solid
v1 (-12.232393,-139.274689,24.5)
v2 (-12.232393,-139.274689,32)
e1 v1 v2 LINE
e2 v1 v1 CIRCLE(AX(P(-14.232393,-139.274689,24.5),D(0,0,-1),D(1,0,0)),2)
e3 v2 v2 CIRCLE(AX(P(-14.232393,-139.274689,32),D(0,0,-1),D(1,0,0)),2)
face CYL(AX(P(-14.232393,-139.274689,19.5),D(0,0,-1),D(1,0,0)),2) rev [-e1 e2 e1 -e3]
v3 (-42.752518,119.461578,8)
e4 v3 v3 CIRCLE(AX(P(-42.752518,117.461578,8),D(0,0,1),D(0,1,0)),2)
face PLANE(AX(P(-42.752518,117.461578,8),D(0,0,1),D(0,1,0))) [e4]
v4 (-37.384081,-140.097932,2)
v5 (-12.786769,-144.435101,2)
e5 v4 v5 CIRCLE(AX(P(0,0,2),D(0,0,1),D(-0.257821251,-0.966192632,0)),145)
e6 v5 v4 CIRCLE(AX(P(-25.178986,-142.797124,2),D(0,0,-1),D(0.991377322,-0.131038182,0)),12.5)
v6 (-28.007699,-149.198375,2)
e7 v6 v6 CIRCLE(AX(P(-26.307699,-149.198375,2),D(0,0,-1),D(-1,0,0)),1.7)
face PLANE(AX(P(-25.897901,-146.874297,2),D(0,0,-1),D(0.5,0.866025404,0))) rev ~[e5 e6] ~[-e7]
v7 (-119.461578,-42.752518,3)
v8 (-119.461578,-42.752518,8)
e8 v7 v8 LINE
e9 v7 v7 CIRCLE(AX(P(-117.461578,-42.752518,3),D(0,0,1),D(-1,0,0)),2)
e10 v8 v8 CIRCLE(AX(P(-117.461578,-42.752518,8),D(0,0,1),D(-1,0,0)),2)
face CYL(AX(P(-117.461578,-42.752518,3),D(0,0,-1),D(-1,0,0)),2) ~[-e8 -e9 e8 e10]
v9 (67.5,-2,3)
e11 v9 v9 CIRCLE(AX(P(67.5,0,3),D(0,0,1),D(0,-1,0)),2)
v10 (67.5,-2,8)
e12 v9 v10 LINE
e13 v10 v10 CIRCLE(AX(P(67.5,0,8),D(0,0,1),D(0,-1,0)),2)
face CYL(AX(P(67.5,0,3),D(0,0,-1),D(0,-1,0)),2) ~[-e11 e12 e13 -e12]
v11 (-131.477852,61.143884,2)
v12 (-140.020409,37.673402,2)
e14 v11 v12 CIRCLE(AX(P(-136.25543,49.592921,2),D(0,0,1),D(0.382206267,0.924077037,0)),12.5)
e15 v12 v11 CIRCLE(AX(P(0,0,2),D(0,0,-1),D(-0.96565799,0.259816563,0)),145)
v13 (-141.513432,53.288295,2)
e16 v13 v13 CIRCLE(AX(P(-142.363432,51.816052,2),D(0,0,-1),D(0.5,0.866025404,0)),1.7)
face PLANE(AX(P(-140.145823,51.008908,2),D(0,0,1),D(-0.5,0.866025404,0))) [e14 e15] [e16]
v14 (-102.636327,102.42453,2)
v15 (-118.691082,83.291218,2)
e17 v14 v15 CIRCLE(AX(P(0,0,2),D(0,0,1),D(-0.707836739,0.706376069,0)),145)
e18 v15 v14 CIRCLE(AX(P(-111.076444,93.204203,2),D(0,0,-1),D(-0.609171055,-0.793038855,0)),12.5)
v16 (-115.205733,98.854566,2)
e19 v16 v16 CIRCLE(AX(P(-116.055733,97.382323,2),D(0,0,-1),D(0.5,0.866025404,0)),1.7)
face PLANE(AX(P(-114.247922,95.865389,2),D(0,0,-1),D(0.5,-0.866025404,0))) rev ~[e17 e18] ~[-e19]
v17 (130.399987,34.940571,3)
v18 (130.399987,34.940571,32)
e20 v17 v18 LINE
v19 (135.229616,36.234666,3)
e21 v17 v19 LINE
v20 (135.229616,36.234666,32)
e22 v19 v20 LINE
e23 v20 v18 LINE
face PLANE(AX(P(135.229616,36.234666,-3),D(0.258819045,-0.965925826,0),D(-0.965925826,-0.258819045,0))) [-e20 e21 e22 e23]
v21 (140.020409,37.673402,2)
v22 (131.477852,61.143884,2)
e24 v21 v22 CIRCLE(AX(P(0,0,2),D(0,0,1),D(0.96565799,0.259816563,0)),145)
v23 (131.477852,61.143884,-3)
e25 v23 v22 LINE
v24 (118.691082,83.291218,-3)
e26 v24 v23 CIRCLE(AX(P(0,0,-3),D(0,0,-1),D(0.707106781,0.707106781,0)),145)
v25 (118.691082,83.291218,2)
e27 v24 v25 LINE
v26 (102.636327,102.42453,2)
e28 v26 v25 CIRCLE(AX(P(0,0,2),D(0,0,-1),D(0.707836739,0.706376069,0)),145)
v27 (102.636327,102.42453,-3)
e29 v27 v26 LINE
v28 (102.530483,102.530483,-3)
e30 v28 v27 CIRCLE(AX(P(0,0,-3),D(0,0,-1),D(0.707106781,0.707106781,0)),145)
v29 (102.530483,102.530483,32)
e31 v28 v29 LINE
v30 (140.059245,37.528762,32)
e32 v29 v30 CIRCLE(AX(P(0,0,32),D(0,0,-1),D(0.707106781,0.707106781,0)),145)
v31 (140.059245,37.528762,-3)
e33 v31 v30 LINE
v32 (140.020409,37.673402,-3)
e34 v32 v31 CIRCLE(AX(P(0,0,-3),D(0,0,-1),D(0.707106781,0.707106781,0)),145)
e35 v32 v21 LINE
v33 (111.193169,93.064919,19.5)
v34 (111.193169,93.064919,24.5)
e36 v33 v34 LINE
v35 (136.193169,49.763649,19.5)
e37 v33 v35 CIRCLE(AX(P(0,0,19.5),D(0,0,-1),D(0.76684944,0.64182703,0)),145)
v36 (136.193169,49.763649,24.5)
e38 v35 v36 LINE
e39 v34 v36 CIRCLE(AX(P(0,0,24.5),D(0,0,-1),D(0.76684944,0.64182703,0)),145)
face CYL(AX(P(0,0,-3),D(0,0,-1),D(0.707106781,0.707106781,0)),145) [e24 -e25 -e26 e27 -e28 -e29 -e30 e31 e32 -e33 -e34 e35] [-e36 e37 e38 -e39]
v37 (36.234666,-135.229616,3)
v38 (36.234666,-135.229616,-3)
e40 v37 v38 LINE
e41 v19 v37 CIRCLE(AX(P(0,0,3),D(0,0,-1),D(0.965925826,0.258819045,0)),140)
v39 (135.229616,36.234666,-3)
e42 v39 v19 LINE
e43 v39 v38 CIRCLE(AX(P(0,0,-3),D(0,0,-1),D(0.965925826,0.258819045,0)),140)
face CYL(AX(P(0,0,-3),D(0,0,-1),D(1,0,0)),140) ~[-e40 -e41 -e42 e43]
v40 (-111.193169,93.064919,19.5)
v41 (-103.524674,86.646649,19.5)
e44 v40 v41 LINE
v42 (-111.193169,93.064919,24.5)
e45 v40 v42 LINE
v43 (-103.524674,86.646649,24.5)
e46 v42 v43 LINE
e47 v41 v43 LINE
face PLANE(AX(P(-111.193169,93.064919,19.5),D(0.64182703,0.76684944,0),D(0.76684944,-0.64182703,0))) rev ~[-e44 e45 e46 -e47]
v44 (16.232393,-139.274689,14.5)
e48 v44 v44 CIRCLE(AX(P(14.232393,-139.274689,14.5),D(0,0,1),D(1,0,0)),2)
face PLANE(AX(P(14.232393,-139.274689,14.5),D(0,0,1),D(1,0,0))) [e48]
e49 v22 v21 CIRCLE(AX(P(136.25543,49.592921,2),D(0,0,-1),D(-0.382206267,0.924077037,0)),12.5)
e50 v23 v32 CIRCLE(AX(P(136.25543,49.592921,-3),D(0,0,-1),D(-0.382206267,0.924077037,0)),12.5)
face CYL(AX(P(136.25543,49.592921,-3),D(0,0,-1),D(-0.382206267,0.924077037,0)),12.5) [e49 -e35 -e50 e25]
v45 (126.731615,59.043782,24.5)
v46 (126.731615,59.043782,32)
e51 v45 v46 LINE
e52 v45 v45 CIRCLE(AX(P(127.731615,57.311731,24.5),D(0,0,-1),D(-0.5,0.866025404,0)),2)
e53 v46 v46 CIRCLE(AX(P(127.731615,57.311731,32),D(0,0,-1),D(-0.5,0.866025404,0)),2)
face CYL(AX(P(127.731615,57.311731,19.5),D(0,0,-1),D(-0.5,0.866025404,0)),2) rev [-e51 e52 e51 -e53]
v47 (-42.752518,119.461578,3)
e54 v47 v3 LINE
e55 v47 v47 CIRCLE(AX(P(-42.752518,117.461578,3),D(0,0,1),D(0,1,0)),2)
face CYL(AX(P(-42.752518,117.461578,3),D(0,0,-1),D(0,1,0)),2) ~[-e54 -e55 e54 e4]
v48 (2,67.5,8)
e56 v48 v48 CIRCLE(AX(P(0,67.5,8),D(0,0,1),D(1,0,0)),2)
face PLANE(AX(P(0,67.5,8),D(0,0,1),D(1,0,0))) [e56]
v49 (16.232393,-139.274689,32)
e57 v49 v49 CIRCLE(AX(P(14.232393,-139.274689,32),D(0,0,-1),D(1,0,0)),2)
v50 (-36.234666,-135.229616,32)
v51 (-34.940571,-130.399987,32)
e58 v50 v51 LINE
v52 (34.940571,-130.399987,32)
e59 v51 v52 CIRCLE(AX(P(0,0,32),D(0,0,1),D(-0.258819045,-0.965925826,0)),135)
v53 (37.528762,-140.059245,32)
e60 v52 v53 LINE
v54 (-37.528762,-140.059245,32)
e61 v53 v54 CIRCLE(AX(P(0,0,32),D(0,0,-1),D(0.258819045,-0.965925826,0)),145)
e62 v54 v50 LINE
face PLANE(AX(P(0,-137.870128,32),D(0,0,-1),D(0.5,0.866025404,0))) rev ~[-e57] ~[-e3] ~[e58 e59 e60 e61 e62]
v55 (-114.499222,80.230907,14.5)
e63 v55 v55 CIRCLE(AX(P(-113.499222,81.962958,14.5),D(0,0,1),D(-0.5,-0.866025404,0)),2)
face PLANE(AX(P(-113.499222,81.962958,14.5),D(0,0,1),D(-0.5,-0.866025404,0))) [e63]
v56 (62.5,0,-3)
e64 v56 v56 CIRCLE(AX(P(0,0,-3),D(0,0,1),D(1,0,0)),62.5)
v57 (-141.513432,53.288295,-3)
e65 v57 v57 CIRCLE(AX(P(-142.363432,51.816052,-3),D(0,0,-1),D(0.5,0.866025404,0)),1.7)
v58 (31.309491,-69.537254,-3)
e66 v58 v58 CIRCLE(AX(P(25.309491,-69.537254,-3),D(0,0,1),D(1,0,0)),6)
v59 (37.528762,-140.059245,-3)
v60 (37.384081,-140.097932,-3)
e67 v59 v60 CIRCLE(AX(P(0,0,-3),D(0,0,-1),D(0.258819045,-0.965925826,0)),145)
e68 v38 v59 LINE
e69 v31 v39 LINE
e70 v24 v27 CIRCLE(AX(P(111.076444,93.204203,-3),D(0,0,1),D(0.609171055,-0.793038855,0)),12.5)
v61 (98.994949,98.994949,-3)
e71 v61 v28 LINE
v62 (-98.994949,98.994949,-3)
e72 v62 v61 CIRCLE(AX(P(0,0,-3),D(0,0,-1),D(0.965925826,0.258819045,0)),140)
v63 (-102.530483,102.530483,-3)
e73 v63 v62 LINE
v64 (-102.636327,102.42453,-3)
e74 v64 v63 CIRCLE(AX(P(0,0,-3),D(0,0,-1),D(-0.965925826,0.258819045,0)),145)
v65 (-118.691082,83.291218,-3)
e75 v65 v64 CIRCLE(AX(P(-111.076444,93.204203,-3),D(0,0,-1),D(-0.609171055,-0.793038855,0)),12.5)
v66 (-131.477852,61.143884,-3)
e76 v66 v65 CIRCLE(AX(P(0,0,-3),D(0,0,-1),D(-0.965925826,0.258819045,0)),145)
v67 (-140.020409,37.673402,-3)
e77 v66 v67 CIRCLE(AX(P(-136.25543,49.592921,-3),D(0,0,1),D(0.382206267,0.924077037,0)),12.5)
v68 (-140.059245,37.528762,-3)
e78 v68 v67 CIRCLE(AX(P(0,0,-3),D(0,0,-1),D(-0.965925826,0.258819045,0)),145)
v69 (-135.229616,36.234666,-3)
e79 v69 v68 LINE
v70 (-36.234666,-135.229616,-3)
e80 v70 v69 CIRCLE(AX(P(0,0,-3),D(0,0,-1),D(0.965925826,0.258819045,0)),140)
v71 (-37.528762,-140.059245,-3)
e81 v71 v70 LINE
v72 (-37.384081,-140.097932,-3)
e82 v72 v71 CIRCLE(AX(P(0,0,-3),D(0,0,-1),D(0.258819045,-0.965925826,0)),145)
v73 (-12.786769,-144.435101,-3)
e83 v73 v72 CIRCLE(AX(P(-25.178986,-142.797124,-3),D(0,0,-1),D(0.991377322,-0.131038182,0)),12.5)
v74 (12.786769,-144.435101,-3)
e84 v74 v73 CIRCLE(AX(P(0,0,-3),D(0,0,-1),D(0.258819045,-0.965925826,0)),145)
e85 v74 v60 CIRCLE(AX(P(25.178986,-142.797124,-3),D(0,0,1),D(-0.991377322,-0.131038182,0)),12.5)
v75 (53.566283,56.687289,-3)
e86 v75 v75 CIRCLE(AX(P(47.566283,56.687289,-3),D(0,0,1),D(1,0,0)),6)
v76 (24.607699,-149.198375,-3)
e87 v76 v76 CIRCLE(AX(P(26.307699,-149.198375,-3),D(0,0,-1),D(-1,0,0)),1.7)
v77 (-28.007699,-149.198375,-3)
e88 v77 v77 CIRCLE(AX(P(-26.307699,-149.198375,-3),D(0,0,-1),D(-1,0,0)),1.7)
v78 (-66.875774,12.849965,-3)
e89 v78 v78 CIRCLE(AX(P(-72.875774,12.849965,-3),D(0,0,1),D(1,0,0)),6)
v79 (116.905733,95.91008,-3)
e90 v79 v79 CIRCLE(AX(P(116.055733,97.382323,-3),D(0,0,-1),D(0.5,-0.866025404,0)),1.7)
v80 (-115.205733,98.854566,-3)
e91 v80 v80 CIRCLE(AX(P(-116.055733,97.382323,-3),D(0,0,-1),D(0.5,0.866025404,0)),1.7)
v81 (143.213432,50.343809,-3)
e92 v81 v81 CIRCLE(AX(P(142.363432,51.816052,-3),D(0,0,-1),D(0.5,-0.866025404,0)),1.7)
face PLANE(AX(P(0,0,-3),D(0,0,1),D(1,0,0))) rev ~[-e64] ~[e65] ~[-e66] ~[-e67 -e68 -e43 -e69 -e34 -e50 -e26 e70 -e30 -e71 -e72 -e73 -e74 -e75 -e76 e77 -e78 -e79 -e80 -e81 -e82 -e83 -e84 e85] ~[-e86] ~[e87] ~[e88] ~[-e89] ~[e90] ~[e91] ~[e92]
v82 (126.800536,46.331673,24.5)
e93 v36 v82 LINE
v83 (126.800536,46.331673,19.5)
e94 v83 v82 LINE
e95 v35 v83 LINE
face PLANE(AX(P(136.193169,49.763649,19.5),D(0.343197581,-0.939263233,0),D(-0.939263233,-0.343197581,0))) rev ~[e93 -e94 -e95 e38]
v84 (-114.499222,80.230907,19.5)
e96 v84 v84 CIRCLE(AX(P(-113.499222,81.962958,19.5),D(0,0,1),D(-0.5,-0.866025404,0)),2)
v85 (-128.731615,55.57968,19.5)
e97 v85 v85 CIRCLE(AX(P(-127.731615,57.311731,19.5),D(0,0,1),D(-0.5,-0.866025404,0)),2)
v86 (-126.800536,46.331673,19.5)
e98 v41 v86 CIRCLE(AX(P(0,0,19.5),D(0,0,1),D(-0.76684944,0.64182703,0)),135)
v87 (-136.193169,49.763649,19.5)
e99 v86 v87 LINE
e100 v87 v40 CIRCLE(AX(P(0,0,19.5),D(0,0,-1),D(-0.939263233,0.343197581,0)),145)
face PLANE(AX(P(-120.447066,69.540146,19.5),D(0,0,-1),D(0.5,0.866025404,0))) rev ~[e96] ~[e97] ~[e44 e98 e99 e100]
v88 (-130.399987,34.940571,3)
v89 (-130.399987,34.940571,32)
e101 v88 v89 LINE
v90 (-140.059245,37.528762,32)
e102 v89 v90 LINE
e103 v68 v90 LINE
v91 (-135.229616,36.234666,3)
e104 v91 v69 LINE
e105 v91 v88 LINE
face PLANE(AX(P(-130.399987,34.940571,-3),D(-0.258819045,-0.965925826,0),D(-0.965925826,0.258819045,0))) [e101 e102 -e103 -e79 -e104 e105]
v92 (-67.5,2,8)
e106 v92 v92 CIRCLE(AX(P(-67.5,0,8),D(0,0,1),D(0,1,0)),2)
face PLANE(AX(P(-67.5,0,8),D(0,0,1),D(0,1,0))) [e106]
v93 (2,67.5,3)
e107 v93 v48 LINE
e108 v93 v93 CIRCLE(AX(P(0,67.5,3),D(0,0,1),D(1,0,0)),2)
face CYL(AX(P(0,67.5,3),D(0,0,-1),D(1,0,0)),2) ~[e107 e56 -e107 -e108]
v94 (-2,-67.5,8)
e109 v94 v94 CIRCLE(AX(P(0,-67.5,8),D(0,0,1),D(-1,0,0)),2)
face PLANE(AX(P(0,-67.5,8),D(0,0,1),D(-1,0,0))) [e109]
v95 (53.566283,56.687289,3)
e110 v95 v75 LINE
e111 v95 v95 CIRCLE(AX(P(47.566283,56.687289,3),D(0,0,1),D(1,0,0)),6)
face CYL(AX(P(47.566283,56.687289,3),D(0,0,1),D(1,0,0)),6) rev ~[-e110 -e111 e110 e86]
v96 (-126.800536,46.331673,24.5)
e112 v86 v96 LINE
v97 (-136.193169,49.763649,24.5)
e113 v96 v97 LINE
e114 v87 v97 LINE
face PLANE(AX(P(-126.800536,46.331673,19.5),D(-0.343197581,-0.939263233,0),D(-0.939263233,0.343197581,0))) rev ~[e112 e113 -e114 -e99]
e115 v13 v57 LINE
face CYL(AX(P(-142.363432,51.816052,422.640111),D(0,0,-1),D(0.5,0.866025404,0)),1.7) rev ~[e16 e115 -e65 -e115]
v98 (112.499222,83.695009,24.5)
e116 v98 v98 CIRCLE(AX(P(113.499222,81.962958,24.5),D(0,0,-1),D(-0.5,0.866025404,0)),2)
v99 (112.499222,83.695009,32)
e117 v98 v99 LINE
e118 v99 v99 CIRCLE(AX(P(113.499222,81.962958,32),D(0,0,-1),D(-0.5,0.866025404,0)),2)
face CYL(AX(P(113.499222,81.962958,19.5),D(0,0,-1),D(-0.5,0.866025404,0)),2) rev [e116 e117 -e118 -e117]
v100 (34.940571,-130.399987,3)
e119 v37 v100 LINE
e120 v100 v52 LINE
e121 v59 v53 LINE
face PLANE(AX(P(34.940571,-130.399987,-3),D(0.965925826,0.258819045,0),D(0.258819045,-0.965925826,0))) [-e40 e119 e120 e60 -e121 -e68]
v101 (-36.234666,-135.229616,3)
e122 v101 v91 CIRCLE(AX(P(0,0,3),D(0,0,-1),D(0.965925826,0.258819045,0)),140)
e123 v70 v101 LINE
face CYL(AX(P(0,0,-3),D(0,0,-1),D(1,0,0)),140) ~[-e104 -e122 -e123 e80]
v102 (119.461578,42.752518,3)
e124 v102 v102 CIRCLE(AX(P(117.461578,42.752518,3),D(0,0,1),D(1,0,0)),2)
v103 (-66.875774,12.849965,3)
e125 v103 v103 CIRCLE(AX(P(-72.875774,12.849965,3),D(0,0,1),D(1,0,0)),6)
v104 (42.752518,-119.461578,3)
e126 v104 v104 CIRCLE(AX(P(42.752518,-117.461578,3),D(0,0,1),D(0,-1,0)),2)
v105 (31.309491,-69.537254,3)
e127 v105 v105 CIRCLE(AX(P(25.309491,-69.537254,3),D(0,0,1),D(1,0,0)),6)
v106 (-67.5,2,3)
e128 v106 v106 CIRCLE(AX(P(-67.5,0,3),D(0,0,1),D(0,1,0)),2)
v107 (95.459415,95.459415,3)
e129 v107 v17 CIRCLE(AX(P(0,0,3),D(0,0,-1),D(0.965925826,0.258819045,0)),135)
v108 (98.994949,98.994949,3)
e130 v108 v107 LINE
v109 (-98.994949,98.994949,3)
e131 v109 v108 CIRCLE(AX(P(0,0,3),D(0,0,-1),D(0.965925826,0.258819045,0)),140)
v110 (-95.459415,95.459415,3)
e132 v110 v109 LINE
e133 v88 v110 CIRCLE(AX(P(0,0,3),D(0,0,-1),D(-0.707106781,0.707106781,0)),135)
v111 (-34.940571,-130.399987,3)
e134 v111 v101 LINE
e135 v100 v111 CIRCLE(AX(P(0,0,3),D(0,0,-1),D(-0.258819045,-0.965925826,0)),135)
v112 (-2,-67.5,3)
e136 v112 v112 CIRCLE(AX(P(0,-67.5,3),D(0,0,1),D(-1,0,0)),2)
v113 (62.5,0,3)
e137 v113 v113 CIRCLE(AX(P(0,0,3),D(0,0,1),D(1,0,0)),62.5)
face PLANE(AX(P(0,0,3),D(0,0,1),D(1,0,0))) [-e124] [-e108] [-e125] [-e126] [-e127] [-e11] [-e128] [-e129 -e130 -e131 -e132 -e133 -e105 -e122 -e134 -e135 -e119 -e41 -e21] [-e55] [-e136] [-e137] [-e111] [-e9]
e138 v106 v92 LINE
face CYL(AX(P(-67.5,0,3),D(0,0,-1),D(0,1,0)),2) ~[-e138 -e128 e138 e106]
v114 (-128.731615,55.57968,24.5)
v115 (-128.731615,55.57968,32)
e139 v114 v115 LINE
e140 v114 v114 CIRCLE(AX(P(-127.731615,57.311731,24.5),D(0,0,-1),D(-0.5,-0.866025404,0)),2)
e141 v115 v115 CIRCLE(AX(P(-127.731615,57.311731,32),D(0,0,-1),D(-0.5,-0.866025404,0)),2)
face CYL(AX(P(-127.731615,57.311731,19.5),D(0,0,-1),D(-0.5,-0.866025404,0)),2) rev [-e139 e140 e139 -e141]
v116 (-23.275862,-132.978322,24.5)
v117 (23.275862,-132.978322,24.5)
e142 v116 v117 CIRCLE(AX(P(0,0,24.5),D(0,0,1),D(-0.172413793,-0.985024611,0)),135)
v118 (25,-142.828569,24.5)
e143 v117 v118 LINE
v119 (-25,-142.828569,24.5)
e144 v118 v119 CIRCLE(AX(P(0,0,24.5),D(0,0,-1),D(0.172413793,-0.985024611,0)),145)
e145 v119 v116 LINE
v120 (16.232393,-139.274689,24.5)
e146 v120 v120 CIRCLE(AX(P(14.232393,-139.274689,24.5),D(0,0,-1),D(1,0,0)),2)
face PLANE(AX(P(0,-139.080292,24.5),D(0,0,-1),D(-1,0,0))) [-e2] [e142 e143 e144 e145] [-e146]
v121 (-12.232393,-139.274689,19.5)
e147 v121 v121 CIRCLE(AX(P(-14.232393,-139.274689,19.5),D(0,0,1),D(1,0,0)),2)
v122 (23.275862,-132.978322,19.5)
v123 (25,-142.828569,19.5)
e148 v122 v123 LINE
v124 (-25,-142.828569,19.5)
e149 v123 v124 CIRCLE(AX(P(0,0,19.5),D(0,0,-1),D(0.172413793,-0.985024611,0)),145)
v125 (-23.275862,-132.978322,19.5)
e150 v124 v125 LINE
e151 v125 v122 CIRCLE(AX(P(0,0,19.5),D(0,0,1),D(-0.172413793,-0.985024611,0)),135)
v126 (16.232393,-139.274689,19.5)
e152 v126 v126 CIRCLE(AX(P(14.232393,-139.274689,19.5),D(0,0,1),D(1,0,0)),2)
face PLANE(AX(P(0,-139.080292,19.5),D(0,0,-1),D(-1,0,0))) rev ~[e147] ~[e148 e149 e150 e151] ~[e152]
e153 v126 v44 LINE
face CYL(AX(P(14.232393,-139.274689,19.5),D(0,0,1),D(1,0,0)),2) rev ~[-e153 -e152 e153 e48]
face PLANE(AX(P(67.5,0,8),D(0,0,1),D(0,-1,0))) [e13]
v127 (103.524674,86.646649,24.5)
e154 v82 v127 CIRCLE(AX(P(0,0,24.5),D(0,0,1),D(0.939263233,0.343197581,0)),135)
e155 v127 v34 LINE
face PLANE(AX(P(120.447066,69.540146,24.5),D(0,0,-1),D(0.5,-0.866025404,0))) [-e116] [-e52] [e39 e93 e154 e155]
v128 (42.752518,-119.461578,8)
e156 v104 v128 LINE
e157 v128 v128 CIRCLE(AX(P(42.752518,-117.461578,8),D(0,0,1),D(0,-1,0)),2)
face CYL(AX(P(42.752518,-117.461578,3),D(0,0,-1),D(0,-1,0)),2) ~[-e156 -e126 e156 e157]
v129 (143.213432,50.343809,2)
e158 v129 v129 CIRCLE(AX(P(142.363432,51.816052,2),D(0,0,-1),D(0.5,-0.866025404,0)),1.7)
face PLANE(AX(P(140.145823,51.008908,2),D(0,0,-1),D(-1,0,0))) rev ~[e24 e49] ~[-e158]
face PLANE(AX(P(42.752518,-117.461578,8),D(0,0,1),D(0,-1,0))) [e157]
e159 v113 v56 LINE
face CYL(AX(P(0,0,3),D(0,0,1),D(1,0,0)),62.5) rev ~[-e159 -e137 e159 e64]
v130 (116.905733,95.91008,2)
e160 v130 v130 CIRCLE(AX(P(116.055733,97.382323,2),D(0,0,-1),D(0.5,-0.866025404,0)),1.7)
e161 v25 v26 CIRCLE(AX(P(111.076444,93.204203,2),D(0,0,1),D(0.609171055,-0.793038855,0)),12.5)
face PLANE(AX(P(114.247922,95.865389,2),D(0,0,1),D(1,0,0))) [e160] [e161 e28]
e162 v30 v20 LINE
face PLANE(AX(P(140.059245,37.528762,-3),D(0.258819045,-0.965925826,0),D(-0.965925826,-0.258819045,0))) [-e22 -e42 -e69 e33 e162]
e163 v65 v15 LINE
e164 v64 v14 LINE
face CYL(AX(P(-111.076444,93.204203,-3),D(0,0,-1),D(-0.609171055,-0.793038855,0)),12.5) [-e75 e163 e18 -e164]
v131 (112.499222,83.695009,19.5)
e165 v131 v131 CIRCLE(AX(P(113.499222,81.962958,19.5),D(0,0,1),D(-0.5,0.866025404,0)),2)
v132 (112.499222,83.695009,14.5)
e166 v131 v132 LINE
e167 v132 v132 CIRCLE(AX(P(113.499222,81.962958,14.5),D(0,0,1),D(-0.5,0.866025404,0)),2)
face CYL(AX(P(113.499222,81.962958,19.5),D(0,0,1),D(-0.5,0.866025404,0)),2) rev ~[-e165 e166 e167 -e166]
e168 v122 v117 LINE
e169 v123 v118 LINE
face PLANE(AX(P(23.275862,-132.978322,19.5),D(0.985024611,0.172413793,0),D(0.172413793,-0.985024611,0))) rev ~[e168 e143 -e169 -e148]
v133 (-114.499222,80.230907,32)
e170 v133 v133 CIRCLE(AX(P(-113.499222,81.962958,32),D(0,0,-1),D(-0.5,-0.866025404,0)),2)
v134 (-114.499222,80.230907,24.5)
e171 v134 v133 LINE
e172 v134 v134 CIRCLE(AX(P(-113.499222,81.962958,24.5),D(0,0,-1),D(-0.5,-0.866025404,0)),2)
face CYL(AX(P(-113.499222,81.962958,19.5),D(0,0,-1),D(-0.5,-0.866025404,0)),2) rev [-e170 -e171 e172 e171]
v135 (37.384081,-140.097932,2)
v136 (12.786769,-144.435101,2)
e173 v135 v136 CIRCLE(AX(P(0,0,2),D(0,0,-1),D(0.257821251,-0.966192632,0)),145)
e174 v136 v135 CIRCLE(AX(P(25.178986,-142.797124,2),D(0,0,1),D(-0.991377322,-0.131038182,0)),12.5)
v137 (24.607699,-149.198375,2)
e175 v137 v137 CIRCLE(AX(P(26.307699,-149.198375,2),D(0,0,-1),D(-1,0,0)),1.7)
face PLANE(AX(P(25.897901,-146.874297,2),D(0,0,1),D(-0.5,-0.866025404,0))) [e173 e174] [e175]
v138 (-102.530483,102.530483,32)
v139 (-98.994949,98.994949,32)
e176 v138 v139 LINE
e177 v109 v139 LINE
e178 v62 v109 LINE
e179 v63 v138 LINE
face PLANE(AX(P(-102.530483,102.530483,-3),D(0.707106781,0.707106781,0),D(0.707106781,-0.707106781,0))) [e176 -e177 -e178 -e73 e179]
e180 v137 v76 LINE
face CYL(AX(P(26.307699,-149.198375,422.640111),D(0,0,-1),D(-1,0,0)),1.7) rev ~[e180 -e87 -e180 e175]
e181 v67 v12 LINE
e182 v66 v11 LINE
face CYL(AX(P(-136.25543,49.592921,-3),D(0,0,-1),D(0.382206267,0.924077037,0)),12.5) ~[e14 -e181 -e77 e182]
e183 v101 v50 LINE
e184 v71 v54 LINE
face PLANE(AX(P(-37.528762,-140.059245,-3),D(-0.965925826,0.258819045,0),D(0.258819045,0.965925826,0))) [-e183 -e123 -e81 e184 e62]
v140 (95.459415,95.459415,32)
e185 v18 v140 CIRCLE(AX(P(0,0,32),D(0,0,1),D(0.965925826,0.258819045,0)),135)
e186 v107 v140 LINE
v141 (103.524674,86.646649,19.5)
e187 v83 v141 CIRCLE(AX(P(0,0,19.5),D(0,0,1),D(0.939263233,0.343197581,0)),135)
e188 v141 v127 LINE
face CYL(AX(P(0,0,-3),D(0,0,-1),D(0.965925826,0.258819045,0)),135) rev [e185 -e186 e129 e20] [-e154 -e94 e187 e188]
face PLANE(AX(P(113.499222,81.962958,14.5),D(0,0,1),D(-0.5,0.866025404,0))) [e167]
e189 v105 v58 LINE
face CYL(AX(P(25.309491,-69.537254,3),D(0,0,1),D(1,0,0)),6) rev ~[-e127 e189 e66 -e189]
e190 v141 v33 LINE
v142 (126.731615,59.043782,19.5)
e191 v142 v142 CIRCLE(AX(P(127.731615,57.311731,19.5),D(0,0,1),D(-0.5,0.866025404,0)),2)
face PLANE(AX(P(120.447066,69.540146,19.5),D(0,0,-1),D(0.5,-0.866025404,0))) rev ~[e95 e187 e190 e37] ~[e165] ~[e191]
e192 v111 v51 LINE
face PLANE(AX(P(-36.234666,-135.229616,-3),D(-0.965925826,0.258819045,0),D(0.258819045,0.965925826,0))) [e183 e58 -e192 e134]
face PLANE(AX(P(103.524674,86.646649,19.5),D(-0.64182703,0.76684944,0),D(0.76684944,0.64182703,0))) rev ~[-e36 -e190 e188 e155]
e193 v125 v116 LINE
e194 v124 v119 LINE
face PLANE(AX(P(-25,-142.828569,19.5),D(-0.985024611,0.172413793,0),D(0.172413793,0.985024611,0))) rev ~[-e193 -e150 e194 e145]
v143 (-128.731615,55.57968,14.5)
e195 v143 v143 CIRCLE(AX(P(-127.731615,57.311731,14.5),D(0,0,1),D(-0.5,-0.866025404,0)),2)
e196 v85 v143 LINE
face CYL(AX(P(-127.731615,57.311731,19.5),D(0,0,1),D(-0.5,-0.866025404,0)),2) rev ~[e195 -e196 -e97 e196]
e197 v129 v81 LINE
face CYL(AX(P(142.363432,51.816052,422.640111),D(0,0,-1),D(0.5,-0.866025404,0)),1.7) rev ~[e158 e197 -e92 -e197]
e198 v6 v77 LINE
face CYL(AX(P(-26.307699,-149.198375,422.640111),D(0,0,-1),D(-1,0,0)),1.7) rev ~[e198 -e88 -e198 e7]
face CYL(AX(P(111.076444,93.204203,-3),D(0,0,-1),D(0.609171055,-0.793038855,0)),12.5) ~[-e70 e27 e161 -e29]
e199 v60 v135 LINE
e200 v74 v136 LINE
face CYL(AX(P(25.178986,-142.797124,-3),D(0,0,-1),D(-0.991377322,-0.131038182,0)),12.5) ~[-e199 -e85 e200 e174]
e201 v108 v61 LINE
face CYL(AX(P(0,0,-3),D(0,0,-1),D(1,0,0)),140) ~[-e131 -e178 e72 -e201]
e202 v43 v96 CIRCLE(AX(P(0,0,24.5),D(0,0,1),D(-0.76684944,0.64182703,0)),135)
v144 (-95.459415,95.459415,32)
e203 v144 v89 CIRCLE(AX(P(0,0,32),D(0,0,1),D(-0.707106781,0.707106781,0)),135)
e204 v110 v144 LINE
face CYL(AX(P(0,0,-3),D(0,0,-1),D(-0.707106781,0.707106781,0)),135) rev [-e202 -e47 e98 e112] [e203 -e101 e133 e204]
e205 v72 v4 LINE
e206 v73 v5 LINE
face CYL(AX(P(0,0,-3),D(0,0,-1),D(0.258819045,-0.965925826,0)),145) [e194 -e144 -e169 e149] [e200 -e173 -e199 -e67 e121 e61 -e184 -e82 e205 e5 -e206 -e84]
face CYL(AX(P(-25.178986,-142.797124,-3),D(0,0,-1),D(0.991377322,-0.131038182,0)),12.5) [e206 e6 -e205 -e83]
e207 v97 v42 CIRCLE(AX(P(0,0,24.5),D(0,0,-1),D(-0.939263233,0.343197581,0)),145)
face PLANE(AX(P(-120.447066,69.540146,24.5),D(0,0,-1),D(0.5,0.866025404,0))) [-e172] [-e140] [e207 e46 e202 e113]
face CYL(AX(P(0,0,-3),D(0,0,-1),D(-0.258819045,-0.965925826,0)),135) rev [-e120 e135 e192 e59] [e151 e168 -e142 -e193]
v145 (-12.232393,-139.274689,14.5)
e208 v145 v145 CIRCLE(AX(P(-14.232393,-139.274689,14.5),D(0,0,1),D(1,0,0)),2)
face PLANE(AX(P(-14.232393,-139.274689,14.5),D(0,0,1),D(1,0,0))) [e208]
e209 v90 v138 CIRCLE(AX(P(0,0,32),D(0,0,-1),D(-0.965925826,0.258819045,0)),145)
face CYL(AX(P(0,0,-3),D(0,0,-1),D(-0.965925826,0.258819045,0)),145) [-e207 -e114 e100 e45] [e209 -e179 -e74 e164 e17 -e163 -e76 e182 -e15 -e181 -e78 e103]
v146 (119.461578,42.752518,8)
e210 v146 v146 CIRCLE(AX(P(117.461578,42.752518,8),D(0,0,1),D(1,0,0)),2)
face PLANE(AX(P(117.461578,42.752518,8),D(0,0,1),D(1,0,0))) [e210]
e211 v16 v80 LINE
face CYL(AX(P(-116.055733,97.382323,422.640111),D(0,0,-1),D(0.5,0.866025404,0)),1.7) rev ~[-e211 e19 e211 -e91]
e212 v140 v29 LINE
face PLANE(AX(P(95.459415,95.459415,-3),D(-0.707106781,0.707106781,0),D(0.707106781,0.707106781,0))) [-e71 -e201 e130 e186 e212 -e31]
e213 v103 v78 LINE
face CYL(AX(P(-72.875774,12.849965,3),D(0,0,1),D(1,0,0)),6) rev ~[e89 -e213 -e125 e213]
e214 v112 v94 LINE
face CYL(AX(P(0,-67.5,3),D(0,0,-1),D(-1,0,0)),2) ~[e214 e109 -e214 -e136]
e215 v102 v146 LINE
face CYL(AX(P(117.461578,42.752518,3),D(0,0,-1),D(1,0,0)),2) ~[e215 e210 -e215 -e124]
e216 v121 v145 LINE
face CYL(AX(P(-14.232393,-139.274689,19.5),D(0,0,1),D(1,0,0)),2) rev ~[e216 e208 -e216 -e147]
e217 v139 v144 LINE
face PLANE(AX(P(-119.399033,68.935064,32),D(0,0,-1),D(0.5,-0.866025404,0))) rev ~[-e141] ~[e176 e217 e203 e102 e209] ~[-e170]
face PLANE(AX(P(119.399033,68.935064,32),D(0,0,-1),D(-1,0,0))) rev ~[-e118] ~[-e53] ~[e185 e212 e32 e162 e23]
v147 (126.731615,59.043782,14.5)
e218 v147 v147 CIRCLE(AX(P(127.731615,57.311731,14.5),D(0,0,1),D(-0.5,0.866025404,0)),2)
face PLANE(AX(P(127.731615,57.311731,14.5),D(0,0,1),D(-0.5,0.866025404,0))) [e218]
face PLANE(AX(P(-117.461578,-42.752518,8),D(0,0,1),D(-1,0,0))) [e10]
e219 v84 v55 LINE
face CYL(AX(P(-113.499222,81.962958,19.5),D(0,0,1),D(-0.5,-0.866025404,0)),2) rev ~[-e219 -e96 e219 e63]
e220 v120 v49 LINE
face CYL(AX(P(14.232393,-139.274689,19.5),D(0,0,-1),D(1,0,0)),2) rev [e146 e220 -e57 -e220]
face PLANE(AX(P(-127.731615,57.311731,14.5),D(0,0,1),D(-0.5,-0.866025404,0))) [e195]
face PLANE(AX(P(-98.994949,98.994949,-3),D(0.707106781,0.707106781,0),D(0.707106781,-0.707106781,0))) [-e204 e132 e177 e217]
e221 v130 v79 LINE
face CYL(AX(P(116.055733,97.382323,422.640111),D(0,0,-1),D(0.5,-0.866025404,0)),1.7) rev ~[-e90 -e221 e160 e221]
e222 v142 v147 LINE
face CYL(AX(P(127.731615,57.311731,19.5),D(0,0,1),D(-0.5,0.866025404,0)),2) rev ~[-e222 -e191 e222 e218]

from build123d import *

# Parameters (mm, degrees)
ESTRUSIONE_ESTRUSIONE1_DEPTH         = 3
ESTRUSIONE_ESTRUSIONE1_DEPTH_BACK    = 3
SCHIZZO1_R                           = 140
SCHIZZO2_R                           = 62.5
TAGLIO_ESTRUSIONE1_DEPTH             = 199.080791598
SCHIZZO3_R                           = 2
ESTRUSIONE_ESTRUSIONE2_DEPTH         = 5
RIPETIZIONECIRCOLARE2_COUNT          = 4
SCHIZZO4_R                           = 2
ESTRUSIONE_ESTRUSIONE3_DEPTH         = 5
RIPETIZIONECIRCOLARE3_COUNT          = 4
ESTRUSIONE_ESTRUSIONE5_START         = -6
ESTRUSIONE_ESTRUSIONE5_DEPTH         = 35
RIPETIZIONECIRCOLARE10_COUNT         = 3
TAGLIO_ESTRUSIONE4_START             = -12.5
TAGLIO_ESTRUSIONE4_DEPTH             = 5
SCHIZZO13_R                          = 2
TAGLIO_ESTRUSIONE5_DEPTH             = 5
TAGLIO_ESTRUSIONE5_DIRECTION_2_REACH = 204.849
RIPETIZIONECIRCOLARE13_COUNT         = 3
ESTRUSIONE_ESTRUSIONE6_DEPTH         = 5
RIPETIZIONECIRCOLARE14_COUNT         = 3
SCHIZZO19_R                          = 6
TAGLIO_ESTRUSIONE6_DEPTH             = 6
FORO_PER_VITE_M3_2_D                 = 3.4
RIPETIZIONECIRCOLARE17_COUNT         = 3


with BuildPart() as part:
    # Schizzo1 → Estrusione-Estrusione1 (new, two sides: drawn at the far end of the back side and taken through both)
    with BuildSketch(Plane.XY.offset(-ESTRUSIONE_ESTRUSIONE1_DEPTH_BACK)):
        Circle(SCHIZZO1_R)
    extrude(amount=ESTRUSIONE_ESTRUSIONE1_DEPTH + ESTRUSIONE_ESTRUSIONE1_DEPTH_BACK)

    # Schizzo2 → Taglio-Estrusione1 (cut, through all)
    with BuildSketch(Plane.XY.offset(3)):
        Circle(SCHIZZO2_R)
    extrude(amount=-TAGLIO_ESTRUSIONE1_DEPTH, mode=Mode.SUBTRACT)

    # Schizzo3 → Estrusione-Estrusione2 (add)
    with BuildSketch(Plane.XY.offset(3)):
        with Locations((0, 67.5)):
            Circle(SCHIZZO3_R)
    estrusione_estrusione2 = extrude(amount=ESTRUSIONE_ESTRUSIONE2_DEPTH)

    # RipetizioneCircolare2: Estrusione-Estrusione2 ×4 about axis
    ripetizionecircolare2_axis = Axis((0, 0, 0), (0, 0, 1))
    for i in range(1, RIPETIZIONECIRCOLARE2_COUNT):
        add(estrusione_estrusione2.rotate(ripetizionecircolare2_axis, i * 360 / RIPETIZIONECIRCOLARE2_COUNT))

    # Schizzo4 → Estrusione-Estrusione3 (add)
    with BuildSketch(Plane.XY.offset(3)):
        with Locations((117.461577598, 42.752517916)):
            Circle(SCHIZZO4_R)
    estrusione_estrusione3 = extrude(amount=ESTRUSIONE_ESTRUSIONE3_DEPTH)

    # RipetizioneCircolare3: Estrusione-Estrusione3 ×4 about axis
    ripetizionecircolare3_axis = Axis((0, 0, 0), (0, 0, 1))
    for i in range(1, RIPETIZIONECIRCOLARE3_COUNT):
        add(estrusione_estrusione3.rotate(ripetizionecircolare3_axis, i * 360 / RIPETIZIONECIRCOLARE3_COUNT))

    # Schizzo6 → Estrusione-Estrusione5 (add)
    with BuildSketch(Plane.XY.offset(3).offset(ESTRUSIONE_ESTRUSIONE5_START)):
        with BuildLine():
            Line((95.45941546, 95.45941546), (98.994949366, 98.994949366))
            Line((98.994949366, 98.994949366), (102.530483272, 102.530483272))
            ThreePointArc((102.530483272, 102.530483272), (125.573683549, 72.5), (140.059244812, 37.52876154))
            Line((140.059244812, 37.52876154), (135.22961568, 36.234666314))
            Line((135.22961568, 36.234666314), (130.399986549, 34.940571089))
            ThreePointArc((130.399986549, 34.940571089), (116.913429511, 67.5), (95.45941546, 95.45941546))
        make_face()
    estrusione_estrusione5 = extrude(amount=ESTRUSIONE_ESTRUSIONE5_DEPTH)

    # RipetizioneCircolare10: Estrusione-Estrusione5 ×3 about axis
    ripetizionecircolare10_axis = Axis((0, 0, 0), (0, 0, 1))
    for i in range(1, RIPETIZIONECIRCOLARE10_COUNT):
        add(estrusione_estrusione5.rotate(ripetizionecircolare10_axis, i * 360 / RIPETIZIONECIRCOLARE10_COUNT))

    # Schizzo12 → Taglio-Estrusione4 (cut)
    with BuildSketch(Plane.XY.offset(32).offset(TAGLIO_ESTRUSIONE4_START)):
        with BuildLine():
            Line((-25, -142.828568571), (-23.275862069, -132.978322463))
            ThreePointArc((-23.275862069, -132.978322463), (0, -135), (23.275862069, -132.978322463))
            Line((23.275862069, -132.978322463), (25, -142.828568571))
            ThreePointArc((25, -142.828568571), (0, -145), (-25, -142.828568571))
        make_face()
    taglio_estrusione4 = extrude(amount=TAGLIO_ESTRUSIONE4_DEPTH, mode=Mode.SUBTRACT)

    # Schizzo13 → Taglio-Estrusione5 (cut)
    with BuildSketch(Plane.XY.offset(19.5)):
        with Locations((14.232392621, -139.274689015)):
            Circle(SCHIZZO13_R)
        with Locations((-14.232392621, -139.274689015)):
            Circle(SCHIZZO13_R)
    taglio_estrusione5 = extrude(amount=-TAGLIO_ESTRUSIONE5_DEPTH, mode=Mode.SUBTRACT)

    # Schizzo13 → Taglio-Estrusione5 direction 2 (cut, up to next)
    with BuildSketch(Plane.XY.offset(19.5), mode=Mode.PRIVATE) as taglio_estrusione5_direction_2_sk1:
        with Locations((14.232392621, -139.274689015)):
            Circle(SCHIZZO13_R)
    taglio_estrusione5_direction_2_tool1 = extrude(taglio_estrusione5_direction_2_sk1.sketch, amount=TAGLIO_ESTRUSIONE5_DIRECTION_2_REACH, mode=Mode.PRIVATE) & part.part
    # Schizzo13 → Taglio-Estrusione5 direction 2 (cut, up to next)
    with BuildSketch(Plane.XY.offset(19.5), mode=Mode.PRIVATE) as taglio_estrusione5_direction_2_sk2:
        with Locations((-14.232392621, -139.274689015)):
            Circle(SCHIZZO13_R)
    taglio_estrusione5_direction_2_tool2 = extrude(taglio_estrusione5_direction_2_sk2.sketch, amount=TAGLIO_ESTRUSIONE5_DIRECTION_2_REACH, mode=Mode.PRIVATE) & part.part
    taglio_estrusione5_direction_2_1 = taglio_estrusione5_direction_2_tool1.solids().sort_by_distance((14.232393, -139.274689, 19.5))[0]
    add(taglio_estrusione5_direction_2_1, mode=Mode.SUBTRACT)
    taglio_estrusione5_direction_2_2 = taglio_estrusione5_direction_2_tool2.solids().sort_by_distance((-14.232393, -139.274689, 19.5))[0]
    add(taglio_estrusione5_direction_2_2, mode=Mode.SUBTRACT)
    taglio_estrusione5_direction_2 = taglio_estrusione5_direction_2_1 + taglio_estrusione5_direction_2_2  # Taglio-Estrusione5 direction 2 as one shape, for the pattern or mirror that repeats it

    # RipetizioneCircolare13: Taglio-Estrusione4, Taglio-Estrusione5, Taglio-Estrusione5 direction 2 ×3 about axis
    ripetizionecircolare13_axis = Axis((0, 0, 0), (0, 0, 1))
    add([taglio_estrusione4.rotate(ripetizionecircolare13_axis, i * 360 / RIPETIZIONECIRCOLARE13_COUNT) for i in range(1, RIPETIZIONECIRCOLARE13_COUNT)], mode=Mode.SUBTRACT)
    add([taglio_estrusione5.rotate(ripetizionecircolare13_axis, i * 360 / RIPETIZIONECIRCOLARE13_COUNT) for i in range(1, RIPETIZIONECIRCOLARE13_COUNT)], mode=Mode.SUBTRACT)
    add([taglio_estrusione5_direction_2.rotate(ripetizionecircolare13_axis, i * 360 / RIPETIZIONECIRCOLARE13_COUNT) for i in range(1, RIPETIZIONECIRCOLARE13_COUNT)], mode=Mode.SUBTRACT)

    # Schizzo14 → Estrusione-Estrusione6 (add)
    with BuildSketch(Plane(origin=(0, 0, -3), x_dir=(-1, 0, 0), z_dir=(0, 0, -1))):
        with BuildLine():
            ThreePointArc((-102.636327137, 102.42453003), (-111.076444252, 93.204203405), (-118.691082442, 83.291217717))
            ThreePointArc((-118.691082442, 83.291217717), (-120.651999791, 101.239048526), (-102.636327137, 102.42453003))
        make_face()
        with BuildLine():
            ThreePointArc((-131.477851676, 61.143883739), (-148.001587774, 53.868172574), (-140.020408545, 37.673401637))
            ThreePointArc((-140.020408545, 37.673401637), (-136.255430014, 49.592920782), (-131.477851676, 61.143883739))
        make_face()
    estrusione_estrusione6 = extrude(amount=-ESTRUSIONE_ESTRUSIONE6_DEPTH)

    # RipetizioneCircolare14: Estrusione-Estrusione6 ×3 about axis
    ripetizionecircolare14_axis = Axis((0, 0, 0), (0, 0, 1))
    for i in range(1, RIPETIZIONECIRCOLARE14_COUNT):
        add(estrusione_estrusione6.rotate(ripetizionecircolare14_axis, i * 360 / RIPETIZIONECIRCOLARE14_COUNT))

    # Schizzo19 → Taglio-Estrusione6 (cut)
    with BuildSketch(Plane.XY.offset(3)):
        with Locations((-72.875773723, 12.849965147)):
            Circle(SCHIZZO19_R)
        with Locations((47.566283117, 56.687288791)):
            Circle(SCHIZZO19_R)
        with Locations((25.309490606, -69.537253938)):
            Circle(SCHIZZO19_R)
    extrude(amount=-TAGLIO_ESTRUSIONE6_DEPTH, mode=Mode.SUBTRACT)

    # Foro per Vite M3-2 (through all)
    with Locations(Plane.XY.offset(2)):
        with Locations((-26.307698917, -149.198374581), (26.307698917, -149.198374581)):
            foro_per_vite_m3_2 = Hole(FORO_PER_VITE_M3_2_D / 2)

    # RipetizioneCircolare17: Foro per Vite M3-2 ×3 about axis
    ripetizionecircolare17_axis = Axis((0, 0, 0), (0, 0, 1))
    for i in range(1, RIPETIZIONECIRCOLARE17_COUNT):
        add(foro_per_vite_m3_2.rotate(ripetizionecircolare17_axis, i * 360 / RIPETIZIONECIRCOLARE17_COUNT), mode=Mode.SUBTRACT)


solid = part.part
